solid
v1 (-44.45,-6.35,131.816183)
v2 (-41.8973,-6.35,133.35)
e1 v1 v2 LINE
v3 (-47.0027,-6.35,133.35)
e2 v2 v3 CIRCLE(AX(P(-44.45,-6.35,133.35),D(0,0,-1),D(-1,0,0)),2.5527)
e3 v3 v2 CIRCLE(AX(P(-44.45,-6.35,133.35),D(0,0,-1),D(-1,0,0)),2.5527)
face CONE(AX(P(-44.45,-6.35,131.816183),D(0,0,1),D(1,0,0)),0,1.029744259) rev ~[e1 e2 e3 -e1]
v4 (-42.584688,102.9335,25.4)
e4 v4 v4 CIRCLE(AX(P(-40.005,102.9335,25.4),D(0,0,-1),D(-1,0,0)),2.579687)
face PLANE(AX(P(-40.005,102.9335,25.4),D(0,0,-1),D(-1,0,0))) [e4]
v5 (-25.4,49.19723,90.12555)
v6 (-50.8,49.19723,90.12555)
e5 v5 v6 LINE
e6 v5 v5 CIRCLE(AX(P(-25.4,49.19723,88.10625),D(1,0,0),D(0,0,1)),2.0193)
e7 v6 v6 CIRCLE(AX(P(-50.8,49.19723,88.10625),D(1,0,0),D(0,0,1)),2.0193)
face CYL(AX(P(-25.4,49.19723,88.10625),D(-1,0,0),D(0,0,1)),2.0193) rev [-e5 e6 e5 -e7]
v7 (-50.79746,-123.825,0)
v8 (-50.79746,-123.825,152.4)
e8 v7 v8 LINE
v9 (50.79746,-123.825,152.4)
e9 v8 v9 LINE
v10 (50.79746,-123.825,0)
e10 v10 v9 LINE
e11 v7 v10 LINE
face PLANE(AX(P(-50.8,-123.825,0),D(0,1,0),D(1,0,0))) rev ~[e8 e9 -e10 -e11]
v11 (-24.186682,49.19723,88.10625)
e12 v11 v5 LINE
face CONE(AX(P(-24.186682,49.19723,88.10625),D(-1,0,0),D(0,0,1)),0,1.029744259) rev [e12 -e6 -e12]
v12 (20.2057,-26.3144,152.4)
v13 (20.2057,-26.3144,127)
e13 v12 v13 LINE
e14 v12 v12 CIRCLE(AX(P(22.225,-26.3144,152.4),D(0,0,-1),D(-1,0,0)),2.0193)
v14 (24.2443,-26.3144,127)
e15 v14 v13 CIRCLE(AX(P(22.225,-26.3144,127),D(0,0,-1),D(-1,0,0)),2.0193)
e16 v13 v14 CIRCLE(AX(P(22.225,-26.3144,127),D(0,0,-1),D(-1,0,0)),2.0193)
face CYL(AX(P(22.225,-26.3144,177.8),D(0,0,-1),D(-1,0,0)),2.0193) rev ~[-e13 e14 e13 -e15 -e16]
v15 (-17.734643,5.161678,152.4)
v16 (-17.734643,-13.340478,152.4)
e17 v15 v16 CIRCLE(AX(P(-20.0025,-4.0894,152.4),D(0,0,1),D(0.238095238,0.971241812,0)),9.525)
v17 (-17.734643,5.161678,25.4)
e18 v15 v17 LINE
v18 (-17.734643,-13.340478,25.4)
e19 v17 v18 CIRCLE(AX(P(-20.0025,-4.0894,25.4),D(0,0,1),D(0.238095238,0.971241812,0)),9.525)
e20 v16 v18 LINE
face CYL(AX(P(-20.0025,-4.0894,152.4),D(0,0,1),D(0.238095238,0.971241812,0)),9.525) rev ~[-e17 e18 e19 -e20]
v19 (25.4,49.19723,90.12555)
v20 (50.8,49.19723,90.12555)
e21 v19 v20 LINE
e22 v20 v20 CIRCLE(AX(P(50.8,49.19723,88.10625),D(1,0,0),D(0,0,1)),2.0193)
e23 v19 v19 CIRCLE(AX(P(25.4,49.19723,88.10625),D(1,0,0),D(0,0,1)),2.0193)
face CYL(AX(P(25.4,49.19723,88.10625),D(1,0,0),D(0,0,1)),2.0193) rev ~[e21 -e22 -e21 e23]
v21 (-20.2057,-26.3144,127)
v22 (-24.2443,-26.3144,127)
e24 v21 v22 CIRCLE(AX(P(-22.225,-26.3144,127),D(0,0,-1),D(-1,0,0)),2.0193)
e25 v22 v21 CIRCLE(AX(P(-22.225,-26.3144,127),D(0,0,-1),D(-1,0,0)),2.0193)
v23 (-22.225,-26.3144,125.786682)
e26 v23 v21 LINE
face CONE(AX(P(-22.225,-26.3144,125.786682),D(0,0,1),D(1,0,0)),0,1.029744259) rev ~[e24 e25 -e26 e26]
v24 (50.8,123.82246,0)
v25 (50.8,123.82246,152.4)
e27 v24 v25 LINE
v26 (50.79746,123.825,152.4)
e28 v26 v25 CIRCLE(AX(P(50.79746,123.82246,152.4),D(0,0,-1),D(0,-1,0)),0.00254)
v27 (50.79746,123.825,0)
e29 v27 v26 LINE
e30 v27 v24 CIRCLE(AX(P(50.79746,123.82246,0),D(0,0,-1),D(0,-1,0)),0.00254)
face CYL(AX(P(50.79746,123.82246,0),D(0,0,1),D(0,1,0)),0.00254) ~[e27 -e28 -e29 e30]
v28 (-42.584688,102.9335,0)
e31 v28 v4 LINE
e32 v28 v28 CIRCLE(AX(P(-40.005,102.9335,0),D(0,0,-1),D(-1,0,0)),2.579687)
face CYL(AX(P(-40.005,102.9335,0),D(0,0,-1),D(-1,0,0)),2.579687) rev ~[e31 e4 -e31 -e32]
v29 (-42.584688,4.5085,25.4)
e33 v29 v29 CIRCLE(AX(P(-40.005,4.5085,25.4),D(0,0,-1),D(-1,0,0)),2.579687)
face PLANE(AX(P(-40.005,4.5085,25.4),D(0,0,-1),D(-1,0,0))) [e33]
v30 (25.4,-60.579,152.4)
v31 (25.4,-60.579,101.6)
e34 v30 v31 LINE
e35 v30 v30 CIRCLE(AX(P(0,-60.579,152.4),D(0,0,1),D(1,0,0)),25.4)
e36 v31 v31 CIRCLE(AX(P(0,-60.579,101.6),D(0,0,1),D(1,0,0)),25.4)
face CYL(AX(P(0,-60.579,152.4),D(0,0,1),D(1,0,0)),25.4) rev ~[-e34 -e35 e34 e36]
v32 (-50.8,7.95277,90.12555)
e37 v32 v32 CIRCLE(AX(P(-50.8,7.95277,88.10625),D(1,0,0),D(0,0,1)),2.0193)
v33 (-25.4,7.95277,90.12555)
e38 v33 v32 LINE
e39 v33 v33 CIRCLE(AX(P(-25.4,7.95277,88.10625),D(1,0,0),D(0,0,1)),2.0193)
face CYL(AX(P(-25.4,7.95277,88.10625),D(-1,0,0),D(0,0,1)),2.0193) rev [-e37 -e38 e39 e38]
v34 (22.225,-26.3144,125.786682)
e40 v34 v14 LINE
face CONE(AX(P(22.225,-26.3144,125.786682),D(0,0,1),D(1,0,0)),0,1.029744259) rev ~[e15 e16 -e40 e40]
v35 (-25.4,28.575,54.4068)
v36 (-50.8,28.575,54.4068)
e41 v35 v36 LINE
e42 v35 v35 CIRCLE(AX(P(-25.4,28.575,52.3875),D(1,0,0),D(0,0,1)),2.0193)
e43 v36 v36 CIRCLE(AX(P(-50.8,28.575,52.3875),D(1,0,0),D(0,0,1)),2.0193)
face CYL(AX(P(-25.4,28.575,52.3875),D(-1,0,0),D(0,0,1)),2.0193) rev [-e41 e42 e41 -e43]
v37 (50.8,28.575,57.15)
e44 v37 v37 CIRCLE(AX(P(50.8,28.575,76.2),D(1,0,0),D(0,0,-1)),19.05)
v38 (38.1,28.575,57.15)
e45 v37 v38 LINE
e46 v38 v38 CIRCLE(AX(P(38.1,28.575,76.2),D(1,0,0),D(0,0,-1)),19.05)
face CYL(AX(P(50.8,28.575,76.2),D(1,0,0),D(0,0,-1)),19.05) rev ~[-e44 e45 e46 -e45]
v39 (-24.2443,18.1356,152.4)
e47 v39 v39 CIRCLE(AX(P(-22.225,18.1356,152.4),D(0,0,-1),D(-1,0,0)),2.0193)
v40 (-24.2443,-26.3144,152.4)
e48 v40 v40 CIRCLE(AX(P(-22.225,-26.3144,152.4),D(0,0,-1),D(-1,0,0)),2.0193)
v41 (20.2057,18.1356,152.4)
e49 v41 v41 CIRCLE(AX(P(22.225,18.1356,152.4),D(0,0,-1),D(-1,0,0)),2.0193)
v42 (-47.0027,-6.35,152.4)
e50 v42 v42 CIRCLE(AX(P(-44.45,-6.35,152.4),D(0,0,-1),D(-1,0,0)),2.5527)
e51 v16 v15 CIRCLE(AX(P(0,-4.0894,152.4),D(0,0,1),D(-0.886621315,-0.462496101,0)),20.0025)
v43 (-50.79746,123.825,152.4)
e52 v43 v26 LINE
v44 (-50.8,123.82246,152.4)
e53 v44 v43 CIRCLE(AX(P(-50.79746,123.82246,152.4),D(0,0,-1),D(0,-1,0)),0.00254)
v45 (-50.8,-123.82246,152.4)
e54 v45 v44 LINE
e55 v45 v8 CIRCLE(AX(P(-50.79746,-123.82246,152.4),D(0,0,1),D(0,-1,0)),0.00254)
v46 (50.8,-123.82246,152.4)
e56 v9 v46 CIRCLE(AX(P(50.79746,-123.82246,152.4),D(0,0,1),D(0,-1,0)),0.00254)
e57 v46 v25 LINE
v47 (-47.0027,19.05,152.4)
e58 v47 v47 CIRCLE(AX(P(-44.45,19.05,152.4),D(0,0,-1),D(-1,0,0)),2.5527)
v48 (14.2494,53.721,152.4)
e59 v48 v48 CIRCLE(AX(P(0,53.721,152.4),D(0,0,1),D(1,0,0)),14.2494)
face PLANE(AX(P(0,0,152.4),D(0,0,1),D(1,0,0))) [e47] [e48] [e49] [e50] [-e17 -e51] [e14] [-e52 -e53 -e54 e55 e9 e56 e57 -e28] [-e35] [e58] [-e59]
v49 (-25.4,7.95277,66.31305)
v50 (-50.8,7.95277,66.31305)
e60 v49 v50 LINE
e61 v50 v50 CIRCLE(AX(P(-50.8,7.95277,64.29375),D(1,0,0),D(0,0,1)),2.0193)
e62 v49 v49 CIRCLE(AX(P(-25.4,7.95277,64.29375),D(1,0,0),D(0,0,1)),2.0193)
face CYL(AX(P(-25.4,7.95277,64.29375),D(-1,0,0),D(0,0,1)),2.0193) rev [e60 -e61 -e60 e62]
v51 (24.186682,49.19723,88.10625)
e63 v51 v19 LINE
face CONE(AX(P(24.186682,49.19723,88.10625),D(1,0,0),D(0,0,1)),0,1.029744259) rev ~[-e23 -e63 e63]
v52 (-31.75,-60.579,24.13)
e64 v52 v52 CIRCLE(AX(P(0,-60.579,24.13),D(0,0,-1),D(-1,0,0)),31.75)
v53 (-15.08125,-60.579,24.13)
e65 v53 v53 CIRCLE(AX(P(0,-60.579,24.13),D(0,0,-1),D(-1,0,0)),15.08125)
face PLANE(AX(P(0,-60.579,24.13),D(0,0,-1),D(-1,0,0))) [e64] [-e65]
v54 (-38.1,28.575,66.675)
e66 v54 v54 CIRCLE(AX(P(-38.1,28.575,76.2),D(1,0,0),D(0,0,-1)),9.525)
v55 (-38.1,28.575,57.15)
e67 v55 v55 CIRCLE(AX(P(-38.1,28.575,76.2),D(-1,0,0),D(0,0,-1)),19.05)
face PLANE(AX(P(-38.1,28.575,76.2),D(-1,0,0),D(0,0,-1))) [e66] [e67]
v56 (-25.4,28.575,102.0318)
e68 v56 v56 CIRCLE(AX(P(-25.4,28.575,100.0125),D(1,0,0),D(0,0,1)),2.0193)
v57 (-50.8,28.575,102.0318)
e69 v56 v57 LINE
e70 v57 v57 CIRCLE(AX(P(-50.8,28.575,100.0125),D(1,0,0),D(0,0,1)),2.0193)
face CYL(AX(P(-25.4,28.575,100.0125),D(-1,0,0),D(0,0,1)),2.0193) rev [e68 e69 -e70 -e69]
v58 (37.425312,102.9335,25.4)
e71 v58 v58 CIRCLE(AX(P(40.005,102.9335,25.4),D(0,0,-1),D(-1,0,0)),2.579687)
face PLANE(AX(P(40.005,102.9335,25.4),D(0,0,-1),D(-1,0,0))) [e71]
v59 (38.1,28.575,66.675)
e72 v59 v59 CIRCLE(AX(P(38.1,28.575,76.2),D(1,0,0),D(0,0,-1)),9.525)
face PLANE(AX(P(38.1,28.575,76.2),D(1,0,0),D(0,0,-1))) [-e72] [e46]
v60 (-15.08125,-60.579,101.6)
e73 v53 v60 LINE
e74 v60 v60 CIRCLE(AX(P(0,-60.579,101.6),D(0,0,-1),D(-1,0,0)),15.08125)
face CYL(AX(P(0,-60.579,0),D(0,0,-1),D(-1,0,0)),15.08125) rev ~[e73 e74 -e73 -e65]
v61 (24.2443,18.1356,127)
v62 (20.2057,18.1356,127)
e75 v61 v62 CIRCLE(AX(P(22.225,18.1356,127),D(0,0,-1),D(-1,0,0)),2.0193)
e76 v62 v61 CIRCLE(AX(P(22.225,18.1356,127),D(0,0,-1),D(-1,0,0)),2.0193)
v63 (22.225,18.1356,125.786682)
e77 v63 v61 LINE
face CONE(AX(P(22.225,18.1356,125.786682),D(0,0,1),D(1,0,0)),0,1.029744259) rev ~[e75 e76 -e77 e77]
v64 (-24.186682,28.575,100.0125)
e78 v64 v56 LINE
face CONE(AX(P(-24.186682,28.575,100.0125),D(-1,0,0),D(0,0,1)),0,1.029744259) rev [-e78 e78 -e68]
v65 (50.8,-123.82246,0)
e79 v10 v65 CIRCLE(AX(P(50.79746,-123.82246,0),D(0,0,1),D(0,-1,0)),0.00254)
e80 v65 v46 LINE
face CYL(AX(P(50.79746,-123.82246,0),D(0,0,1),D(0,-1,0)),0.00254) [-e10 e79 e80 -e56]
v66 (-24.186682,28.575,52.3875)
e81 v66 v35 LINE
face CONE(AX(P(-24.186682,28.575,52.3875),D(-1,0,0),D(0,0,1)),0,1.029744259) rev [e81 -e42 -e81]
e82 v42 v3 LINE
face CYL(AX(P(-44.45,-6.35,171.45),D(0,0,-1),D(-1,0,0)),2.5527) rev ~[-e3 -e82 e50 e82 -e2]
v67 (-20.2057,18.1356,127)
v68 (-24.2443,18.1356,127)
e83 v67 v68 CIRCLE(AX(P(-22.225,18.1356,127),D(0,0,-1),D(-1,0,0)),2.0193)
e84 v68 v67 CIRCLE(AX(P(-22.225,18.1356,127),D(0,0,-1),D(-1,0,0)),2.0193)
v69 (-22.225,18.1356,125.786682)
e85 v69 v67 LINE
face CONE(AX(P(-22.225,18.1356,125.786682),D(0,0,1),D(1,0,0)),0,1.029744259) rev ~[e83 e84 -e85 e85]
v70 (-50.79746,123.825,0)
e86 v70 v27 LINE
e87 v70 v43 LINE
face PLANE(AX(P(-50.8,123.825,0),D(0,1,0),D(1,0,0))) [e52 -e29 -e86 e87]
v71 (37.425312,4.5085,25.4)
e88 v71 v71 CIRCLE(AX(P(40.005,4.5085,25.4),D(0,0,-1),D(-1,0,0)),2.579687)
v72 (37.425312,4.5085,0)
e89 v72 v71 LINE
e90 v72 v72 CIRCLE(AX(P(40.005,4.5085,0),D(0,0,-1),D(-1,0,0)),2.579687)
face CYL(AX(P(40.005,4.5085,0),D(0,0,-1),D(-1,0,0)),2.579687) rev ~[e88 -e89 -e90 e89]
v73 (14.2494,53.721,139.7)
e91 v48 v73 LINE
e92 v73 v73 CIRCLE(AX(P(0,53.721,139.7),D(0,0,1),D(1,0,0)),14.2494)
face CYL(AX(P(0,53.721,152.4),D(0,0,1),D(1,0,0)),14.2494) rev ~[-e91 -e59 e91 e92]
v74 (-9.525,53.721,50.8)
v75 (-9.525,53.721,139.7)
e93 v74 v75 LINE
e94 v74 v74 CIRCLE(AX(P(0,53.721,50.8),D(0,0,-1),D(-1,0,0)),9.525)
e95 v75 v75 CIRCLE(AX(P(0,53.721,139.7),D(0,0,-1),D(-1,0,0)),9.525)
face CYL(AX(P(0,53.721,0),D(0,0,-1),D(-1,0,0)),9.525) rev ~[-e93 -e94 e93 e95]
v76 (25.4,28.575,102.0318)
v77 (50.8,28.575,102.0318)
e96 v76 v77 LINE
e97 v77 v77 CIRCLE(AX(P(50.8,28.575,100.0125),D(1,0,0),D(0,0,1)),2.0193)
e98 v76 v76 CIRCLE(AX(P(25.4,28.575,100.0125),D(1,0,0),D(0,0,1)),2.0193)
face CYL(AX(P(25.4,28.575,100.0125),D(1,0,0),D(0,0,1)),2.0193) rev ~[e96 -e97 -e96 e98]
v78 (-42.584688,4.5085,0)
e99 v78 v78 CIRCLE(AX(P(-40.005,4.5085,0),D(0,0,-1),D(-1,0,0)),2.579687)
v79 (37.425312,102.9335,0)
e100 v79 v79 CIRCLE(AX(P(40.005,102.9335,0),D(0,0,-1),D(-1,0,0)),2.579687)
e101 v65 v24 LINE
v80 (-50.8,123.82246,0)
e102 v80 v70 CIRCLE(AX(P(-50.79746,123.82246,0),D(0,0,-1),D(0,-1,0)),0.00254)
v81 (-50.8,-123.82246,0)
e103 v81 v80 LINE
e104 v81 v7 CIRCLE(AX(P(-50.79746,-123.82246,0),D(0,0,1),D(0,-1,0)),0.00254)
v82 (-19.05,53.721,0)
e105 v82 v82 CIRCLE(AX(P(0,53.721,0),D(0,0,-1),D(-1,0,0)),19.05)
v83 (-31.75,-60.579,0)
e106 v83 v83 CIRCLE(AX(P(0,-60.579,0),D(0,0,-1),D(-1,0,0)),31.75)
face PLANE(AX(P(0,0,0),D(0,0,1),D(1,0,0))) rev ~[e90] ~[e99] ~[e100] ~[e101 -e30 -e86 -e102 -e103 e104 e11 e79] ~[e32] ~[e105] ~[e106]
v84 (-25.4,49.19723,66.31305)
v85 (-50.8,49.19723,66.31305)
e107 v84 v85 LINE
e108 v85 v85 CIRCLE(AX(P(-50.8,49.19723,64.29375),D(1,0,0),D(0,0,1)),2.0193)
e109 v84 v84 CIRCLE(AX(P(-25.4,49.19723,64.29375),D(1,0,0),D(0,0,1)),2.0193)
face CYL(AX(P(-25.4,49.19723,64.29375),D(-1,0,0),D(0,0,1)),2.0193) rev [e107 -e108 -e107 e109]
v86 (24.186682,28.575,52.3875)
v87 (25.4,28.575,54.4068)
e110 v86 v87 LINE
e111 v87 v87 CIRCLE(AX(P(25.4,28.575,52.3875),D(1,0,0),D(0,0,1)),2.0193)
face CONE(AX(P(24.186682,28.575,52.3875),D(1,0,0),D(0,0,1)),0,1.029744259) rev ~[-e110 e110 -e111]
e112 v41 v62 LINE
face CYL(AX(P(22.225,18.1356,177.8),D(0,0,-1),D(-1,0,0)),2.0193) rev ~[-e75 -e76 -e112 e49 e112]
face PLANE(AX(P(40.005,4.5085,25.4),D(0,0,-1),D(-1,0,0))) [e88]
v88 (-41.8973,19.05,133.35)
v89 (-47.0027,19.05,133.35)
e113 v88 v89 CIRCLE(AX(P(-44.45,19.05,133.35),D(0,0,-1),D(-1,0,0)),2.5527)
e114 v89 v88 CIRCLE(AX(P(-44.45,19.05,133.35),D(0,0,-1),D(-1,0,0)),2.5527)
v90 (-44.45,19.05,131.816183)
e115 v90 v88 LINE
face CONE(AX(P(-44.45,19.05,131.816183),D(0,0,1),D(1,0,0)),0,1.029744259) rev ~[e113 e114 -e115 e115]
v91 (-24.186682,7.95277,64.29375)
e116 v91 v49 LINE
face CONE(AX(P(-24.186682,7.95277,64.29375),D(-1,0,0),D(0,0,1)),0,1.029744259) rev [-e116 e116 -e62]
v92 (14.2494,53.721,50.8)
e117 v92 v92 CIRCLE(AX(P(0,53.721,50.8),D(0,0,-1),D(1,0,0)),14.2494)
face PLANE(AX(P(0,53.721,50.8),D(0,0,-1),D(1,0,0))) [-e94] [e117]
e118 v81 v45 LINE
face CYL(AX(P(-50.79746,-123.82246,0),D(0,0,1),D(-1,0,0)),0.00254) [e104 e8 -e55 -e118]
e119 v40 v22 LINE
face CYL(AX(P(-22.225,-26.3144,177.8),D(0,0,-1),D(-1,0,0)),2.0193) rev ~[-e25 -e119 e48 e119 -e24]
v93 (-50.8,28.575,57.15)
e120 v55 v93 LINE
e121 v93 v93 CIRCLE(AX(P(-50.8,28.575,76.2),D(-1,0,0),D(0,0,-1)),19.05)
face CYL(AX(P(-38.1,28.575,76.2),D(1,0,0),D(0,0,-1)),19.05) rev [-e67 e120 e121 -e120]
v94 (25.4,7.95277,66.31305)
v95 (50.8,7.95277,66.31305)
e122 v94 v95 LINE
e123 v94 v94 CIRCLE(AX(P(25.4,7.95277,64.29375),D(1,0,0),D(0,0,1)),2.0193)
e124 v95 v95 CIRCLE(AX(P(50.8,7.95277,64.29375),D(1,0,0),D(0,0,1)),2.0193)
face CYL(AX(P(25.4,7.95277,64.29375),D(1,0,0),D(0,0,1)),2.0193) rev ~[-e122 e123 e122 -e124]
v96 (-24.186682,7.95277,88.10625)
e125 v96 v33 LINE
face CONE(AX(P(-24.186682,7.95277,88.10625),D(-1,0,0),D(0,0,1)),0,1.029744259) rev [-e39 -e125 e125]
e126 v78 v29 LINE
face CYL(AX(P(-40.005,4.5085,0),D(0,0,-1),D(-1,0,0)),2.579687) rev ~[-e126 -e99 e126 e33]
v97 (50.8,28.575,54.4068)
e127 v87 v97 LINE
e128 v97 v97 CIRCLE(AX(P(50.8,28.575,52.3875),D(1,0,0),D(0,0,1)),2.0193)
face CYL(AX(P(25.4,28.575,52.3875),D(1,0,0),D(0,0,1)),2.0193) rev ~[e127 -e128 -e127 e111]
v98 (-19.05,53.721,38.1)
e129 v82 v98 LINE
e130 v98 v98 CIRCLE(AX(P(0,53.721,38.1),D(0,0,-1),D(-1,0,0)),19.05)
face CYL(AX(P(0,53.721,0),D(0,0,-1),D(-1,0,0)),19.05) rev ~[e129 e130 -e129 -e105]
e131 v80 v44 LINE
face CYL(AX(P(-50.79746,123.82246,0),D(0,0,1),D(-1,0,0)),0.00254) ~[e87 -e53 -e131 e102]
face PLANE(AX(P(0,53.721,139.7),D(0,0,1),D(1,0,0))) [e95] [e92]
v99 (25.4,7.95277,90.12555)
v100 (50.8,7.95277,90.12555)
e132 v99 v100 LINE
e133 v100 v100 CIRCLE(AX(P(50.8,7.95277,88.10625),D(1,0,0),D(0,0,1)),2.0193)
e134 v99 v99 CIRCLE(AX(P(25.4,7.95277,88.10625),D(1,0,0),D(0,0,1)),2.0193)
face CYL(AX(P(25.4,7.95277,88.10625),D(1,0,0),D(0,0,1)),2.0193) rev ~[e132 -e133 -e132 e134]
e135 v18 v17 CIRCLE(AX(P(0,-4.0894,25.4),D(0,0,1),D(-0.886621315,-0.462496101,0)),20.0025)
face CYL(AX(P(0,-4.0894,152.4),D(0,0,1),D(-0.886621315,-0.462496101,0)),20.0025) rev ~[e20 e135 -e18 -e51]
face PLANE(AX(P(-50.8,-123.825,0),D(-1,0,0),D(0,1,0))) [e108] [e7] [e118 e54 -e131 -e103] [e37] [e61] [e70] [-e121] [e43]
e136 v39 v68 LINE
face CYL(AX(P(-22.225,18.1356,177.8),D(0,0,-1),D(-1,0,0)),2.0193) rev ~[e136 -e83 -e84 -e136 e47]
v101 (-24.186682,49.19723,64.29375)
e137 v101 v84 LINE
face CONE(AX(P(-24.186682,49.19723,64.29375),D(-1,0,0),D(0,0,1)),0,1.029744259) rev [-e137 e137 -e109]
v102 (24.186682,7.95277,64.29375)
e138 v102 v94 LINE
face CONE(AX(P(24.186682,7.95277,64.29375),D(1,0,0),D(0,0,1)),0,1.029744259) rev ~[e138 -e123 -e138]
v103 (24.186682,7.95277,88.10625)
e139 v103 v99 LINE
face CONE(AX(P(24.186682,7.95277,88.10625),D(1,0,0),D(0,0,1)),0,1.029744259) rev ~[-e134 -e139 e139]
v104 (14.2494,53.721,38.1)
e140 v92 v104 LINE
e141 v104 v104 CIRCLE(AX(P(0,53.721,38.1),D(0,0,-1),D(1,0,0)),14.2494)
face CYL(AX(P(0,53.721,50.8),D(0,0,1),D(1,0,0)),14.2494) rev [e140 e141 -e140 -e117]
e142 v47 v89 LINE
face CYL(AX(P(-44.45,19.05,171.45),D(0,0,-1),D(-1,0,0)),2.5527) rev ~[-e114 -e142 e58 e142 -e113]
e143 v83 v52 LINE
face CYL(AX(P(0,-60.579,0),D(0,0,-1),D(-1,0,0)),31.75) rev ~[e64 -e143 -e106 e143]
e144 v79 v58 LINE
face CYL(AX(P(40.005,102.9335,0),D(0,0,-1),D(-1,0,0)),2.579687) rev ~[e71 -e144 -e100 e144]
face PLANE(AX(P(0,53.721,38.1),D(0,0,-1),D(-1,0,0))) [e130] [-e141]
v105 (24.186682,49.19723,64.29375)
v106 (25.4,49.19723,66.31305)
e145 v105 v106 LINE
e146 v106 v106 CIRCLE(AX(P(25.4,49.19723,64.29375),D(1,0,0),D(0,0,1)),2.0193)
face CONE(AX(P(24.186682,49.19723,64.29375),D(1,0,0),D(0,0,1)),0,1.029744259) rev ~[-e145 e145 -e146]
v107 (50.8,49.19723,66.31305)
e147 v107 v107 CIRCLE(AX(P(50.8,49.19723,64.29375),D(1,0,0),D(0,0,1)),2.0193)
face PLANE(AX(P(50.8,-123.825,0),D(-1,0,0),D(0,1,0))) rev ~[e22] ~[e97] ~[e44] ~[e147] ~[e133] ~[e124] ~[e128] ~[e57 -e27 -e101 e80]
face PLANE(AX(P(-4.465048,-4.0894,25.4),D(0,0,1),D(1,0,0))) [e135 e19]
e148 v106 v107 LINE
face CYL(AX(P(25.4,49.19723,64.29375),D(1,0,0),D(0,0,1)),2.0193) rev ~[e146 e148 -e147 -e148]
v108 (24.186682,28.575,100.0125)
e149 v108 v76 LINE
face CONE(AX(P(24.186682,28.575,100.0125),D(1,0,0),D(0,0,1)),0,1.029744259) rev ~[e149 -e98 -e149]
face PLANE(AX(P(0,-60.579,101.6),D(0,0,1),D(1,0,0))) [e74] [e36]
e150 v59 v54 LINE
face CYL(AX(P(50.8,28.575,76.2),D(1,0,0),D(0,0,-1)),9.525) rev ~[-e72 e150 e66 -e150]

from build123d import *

# Parameters (mm, degrees)
SKETCH1_W                       = 101.6
SKETCH1_H                       = 247.65
BOSS_EXTRUDE1_DEPTH             = 152.4
SKETCH2_R                       = 15.08125
SKETCH2_R_2                     = 9.525
CUT_EXTRUDE1_DEPTH              = 203.827588422
SKETCH33_R                      = 2.5796875
CUT_EXTRUDE33_DEPTH             = 25.4
SKETCH53_R                      = 31.75
CUT_EXTRUDE37_DEPTH             = 24.13
SKETCH54_R                      = 19.05
CUT_EXTRUDE38_DEPTH             = 38.1
SKETCH4_R                       = 19.05
CUT_EXTRUDE40_DEPTH             = 12.7
SKETCH56_R                      = 14.2494
CUT_EXTRUDE42_DEPTH             = 12.7
CUT_EXTRUDE43_START             = -12.7
SKETCH57_R                      = 14.2494
CUT_EXTRUDE43_DEPTH             = 12.7
SKETCH58_R                      = 25.4
CUT_EXTRUDE44_DEPTH             = 50.8
CUT_EXTRUDE45_DEPTH             = 127
FILLET2_R                       = 0.00254
CUT_EXTRUDE46_START             = -12.7
SKETCH60_R                      = 19.05
CUT_EXTRUDE46_DEPTH             = 12.7
SKETCH61_R                      = 9.525
CUT_EXTRUDE47_DEPTH             = 222.090367554
F_10_32_TAPPED_HOLE1_D          = 4.0386
F_10_32_TAPPED_HOLE1_DEPTH      = 25.4
F_10_32_TAPPED_HOLE1_TIP        = 1.213317848
F_10_32_TAPPED_HOLE2_AT_2_COUNT = 2
F_10_32_TAPPED_HOLE2_AT_2_PITCH = 23.8125
F_10_32_TAPPED_HOLE2_AT_3_COUNT = 2
F_10_32_TAPPED_HOLE2_AT_3_PITCH = 23.8125
F_10_32_TAPPED_HOLE2_AT_4_COUNT = 2
F_10_32_TAPPED_HOLE2_AT_4_PITCH = 41.244459855
F_10_32_TAPPED_HOLE2_AT_5_COUNT = 2
F_10_32_TAPPED_HOLE2_AT_5_PITCH = 47.625
F_10_32_TAPPED_HOLE2_AT_6_COUNT = 2
F_10_32_TAPPED_HOLE2_AT_6_PITCH = 41.244459855
F_1_4_20_TAPPED_HOLE1_D         = 5.1054
F_1_4_20_TAPPED_HOLE1_DEPTH     = 19.05
F_1_4_20_TAPPED_HOLE1_TIP       = 1.533816902


with BuildPart() as part:
    # Sketch1 → Boss-Extrude1 (new body)
    with BuildSketch(Plane.XY):
        Rectangle(SKETCH1_W, SKETCH1_H)
    extrude(amount=BOSS_EXTRUDE1_DEPTH)

    # Sketch2 → Cut-Extrude1 (cut, through all)
    with BuildSketch(Plane(origin=(0, 0, 0), x_dir=(-1, 0, 0), z_dir=(0, 0, -1))):
        with Locations((0, -60.579)):
            Circle(SKETCH2_R)
        with Locations((0, 53.721)):
            Circle(SKETCH2_R_2)
    extrude(amount=-CUT_EXTRUDE1_DEPTH, mode=Mode.SUBTRACT)

    # Sketch33 → Cut-Extrude33 (cut)
    with BuildSketch(Plane(origin=(0, 0, 0), x_dir=(-1, 0, 0), z_dir=(0, 0, -1))):
        with Locations((-40.005, 102.9335)):
            Circle(SKETCH33_R)
        with Locations((40.005, 102.9335)):
            Circle(SKETCH33_R)
        with Locations((40.005, 4.5085)):
            Circle(SKETCH33_R)
        with Locations((-40.005, 4.5085)):
            Circle(SKETCH33_R)
    extrude(amount=-CUT_EXTRUDE33_DEPTH, mode=Mode.SUBTRACT)

    # Sketch53 → Cut-Extrude37 (cut)
    with BuildSketch(Plane(origin=(0, 0, 0), x_dir=(-1, 0, 0), z_dir=(0, 0, -1))):
        with Locations((0, -60.579)):
            Circle(SKETCH53_R)
    extrude(amount=-CUT_EXTRUDE37_DEPTH, mode=Mode.SUBTRACT)

    # Sketch54 → Cut-Extrude38 (cut)
    with BuildSketch(Plane(origin=(0, 0, 0), x_dir=(-1, 0, 0), z_dir=(0, 0, -1))):
        with Locations((0, 53.721)):
            Circle(SKETCH54_R)
    extrude(amount=-CUT_EXTRUDE38_DEPTH, mode=Mode.SUBTRACT)

    # Sketch4 → Cut-Extrude40 (cut)
    with BuildSketch(Plane(origin=(50.8, 0, 0), x_dir=(0, 0, -1), z_dir=(1, 0, 0))):
        with Locations((-76.2, 28.575)):
            Circle(SKETCH4_R)
    extrude(amount=-CUT_EXTRUDE40_DEPTH, mode=Mode.SUBTRACT)

    # Sketch56 → Cut-Extrude42 (cut)
    with BuildSketch(Plane.XY.offset(152.4)):
        with Locations((0, 53.721)):
            Circle(SKETCH56_R)
    extrude(amount=-CUT_EXTRUDE42_DEPTH, mode=Mode.SUBTRACT)

    # Sketch57 → Cut-Extrude43 (cut)
    with BuildSketch(Plane(origin=(0, 0, 38.1), x_dir=(-1, 0, 0), z_dir=(0, 0, -1)).offset(CUT_EXTRUDE43_START)):
        with Locations(Location((0, 53.721, 0), (0, 0, 180))):
            Circle(SKETCH57_R)
    extrude(amount=CUT_EXTRUDE43_DEPTH, mode=Mode.SUBTRACT)

    # Sketch58 → Cut-Extrude44 (cut)
    with BuildSketch(Plane.XY.offset(152.4)):
        with Locations((0, -60.579)):
            Circle(SKETCH58_R)
    extrude(amount=-CUT_EXTRUDE44_DEPTH, mode=Mode.SUBTRACT)

    # Sketch59 → Cut-Extrude45 (cut)
    with BuildSketch(Plane.XY.offset(152.4)):
        with BuildLine():
            ThreePointArc((-17.734642857, -13.34047826), (20.0025, -4.0894), (-17.734642857, 5.16167826))
            ThreePointArc((-17.734642857, 5.16167826), (-29.5275, -4.0894), (-17.734642857, -13.34047826))
        make_face()
    extrude(amount=-CUT_EXTRUDE45_DEPTH, mode=Mode.SUBTRACT)

    # Fillet2
    fillet2_edges = [part.edges().sort_by_distance(p)[0] for p in [
        (50.8, -123.825, 76.2),
        (-50.8, -123.825, 76.2),
        (-50.8, 123.825, 76.2),
        (50.8, 123.825, 76.2),
    ]]
    fillet(fillet2_edges, radius=FILLET2_R)

    # Sketch60 → Cut-Extrude46 (cut)
    with BuildSketch(Plane.ZY.offset(50.8).offset(CUT_EXTRUDE46_START)):
        with Locations(Location((76.2, 28.575, 0), (0, 0, 180))):
            Circle(SKETCH60_R)
    extrude(amount=CUT_EXTRUDE46_DEPTH, mode=Mode.SUBTRACT)

    # Sketch61 → Cut-Extrude47 (cut, through all)
    with BuildSketch(Plane(origin=(50.8, 0, 0), x_dir=(0, 0, -1), z_dir=(1, 0, 0))):
        with Locations((-76.2, 28.575)):
            Circle(SKETCH61_R)
    extrude(amount=-CUT_EXTRUDE47_DEPTH, mode=Mode.SUBTRACT)

    # #10-32 Tapped Hole1
    with Locations(Plane.XY.offset(152.4)):
        with Locations((-22.225, 18.1356), (22.225, 18.1356), (22.225, -26.3144), (-22.225, -26.3144)):
            Hole(F_10_32_TAPPED_HOLE1_D / 2, depth=F_10_32_TAPPED_HOLE1_DEPTH)
            with Locations((0, 0, -(F_10_32_TAPPED_HOLE1_DEPTH + F_10_32_TAPPED_HOLE1_TIP / 2))):  # 118° drill point
                Cone(0, F_10_32_TAPPED_HOLE1_D / 2, F_10_32_TAPPED_HOLE1_TIP, mode=Mode.SUBTRACT)

    # Sketch66 → #10-32 Tapped Hole2 (revolve, cut)
    with BuildSketch(Plane(origin=(-50.8, 7.952770072, 64.29375), x_dir=(0, 0, 1), z_dir=(0, 1, 0))):
        Polygon((0, 0), (0, 26.613317848), (2.0193, 25.4), (2.0193, 0), align=None)
    f_10_32_tapped_hole2 = revolve(axis=Axis((-57.15, 7.952770072, 64.29375), (1, 0, 0)), mode=Mode.SUBTRACT)

    # #10-32 Tapped Hole2 at 2: #10-32 Tapped Hole2 ×2
    with Locations(*[Vector(0, 0.8660254037844412, -0.4999999999999957) * (i * F_10_32_TAPPED_HOLE2_AT_2_PITCH) for i in range(1, F_10_32_TAPPED_HOLE2_AT_2_COUNT)]):
        add(f_10_32_tapped_hole2, mode=Mode.SUBTRACT)

    # #10-32 Tapped Hole2 at 3: #10-32 Tapped Hole2 ×2
    with Locations(*[(0, 0, i * F_10_32_TAPPED_HOLE2_AT_3_PITCH) for i in range(1, F_10_32_TAPPED_HOLE2_AT_3_COUNT)]):
        add(f_10_32_tapped_hole2, mode=Mode.SUBTRACT)

    # #10-32 Tapped Hole2 at 4: #10-32 Tapped Hole2 ×2
    with Locations(*[Vector(0, 0.49999999999999195, 0.8660254037844434) * (i * F_10_32_TAPPED_HOLE2_AT_4_PITCH) for i in range(1, F_10_32_TAPPED_HOLE2_AT_4_COUNT)]):
        add(f_10_32_tapped_hole2, mode=Mode.SUBTRACT)

    # #10-32 Tapped Hole2 at 5: #10-32 Tapped Hole2 ×2
    with Locations(*[Vector(0, 0.8660254037844348, 0.5000000000000068) * (i * F_10_32_TAPPED_HOLE2_AT_5_PITCH) for i in range(1, F_10_32_TAPPED_HOLE2_AT_5_COUNT)]):
        add(f_10_32_tapped_hole2, mode=Mode.SUBTRACT)

    # #10-32 Tapped Hole2 at 6: #10-32 Tapped Hole2 ×2
    with Locations(*[(0, i * F_10_32_TAPPED_HOLE2_AT_6_PITCH, 0) for i in range(1, F_10_32_TAPPED_HOLE2_AT_6_COUNT)]):
        add(f_10_32_tapped_hole2, mode=Mode.SUBTRACT)

    # Mirror1: #10-32 Tapped Hole2 across plane
    add(f_10_32_tapped_hole2.mirror(Plane(origin=(0, 0, 0), x_dir=(0, 0, 1), z_dir=(1, 0, 0))), mode=Mode.SUBTRACT)

    # Mirror1 copy 1 sketch → Mirror1 copy 1 (revolve, cut)
    with BuildSketch(Plane(origin=(50.8, 28.575, 52.3875), x_dir=(0, 0, 1), z_dir=(0, 1, 0))):
        Polygon((0, 0), (0, -26.613317848), (2.0193, -25.4), (2.0193, 0), align=None)
    revolve(axis=Axis((57.15, 28.575, 52.3875), (1, 0, 0)), mode=Mode.SUBTRACT)

    # Mirror1 copy 2 sketch → Mirror1 copy 2 (revolve, cut)
    with BuildSketch(Plane(origin=(50.8, 7.952770072, 88.10625), x_dir=(0, 0, 1), z_dir=(0, 1, 0))):
        Polygon((0, 0), (0, -26.613317848), (2.0193, -25.4), (2.0193, 0), align=None)
    revolve(axis=Axis((57.15, 7.952770072, 88.10625), (1, 0, 0)), mode=Mode.SUBTRACT)

    # Mirror1 copy 3 sketch → Mirror1 copy 3 (revolve, cut)
    with BuildSketch(Plane(origin=(50.8, 28.575, 100.0125), x_dir=(0, 0, 1), z_dir=(0, 1, 0))):
        Polygon((0, 0), (0, -26.613317848), (2.0193, -25.4), (2.0193, 0), align=None)
    revolve(axis=Axis((57.15, 28.575, 100.0125), (1, 0, 0)), mode=Mode.SUBTRACT)

    # Mirror1 copy 4 sketch → Mirror1 copy 4 (revolve, cut)
    with BuildSketch(Plane(origin=(50.8, 49.197229928, 88.10625), x_dir=(0, 0, 1), z_dir=(0, 1, 0))):
        Polygon((0, 0), (0, -26.613317848), (2.0193, -25.4), (2.0193, 0), align=None)
    revolve(axis=Axis((57.15, 49.197229928, 88.10625), (1, 0, 0)), mode=Mode.SUBTRACT)

    # Mirror1 copy 5 sketch → Mirror1 copy 5 (revolve, cut)
    with BuildSketch(Plane(origin=(50.8, 49.197229928, 64.29375), x_dir=(0, 0, 1), z_dir=(0, 1, 0))):
        Polygon((0, 0), (0, -26.613317848), (2.0193, -25.4), (2.0193, 0), align=None)
    revolve(axis=Axis((57.15, 49.197229928, 64.29375), (1, 0, 0)), mode=Mode.SUBTRACT)

    # 1/4-20 Tapped Hole1
    with Locations(Plane.XY.offset(152.4)):
        with Locations((-44.45, 19.05), (-44.45, -6.35)):
            Hole(F_1_4_20_TAPPED_HOLE1_D / 2, depth=F_1_4_20_TAPPED_HOLE1_DEPTH)
            with Locations((0, 0, -(F_1_4_20_TAPPED_HOLE1_DEPTH + F_1_4_20_TAPPED_HOLE1_TIP / 2))):  # 118° drill point
                Cone(0, F_1_4_20_TAPPED_HOLE1_D / 2, F_1_4_20_TAPPED_HOLE1_TIP, mode=Mode.SUBTRACT)


solid = part.part
